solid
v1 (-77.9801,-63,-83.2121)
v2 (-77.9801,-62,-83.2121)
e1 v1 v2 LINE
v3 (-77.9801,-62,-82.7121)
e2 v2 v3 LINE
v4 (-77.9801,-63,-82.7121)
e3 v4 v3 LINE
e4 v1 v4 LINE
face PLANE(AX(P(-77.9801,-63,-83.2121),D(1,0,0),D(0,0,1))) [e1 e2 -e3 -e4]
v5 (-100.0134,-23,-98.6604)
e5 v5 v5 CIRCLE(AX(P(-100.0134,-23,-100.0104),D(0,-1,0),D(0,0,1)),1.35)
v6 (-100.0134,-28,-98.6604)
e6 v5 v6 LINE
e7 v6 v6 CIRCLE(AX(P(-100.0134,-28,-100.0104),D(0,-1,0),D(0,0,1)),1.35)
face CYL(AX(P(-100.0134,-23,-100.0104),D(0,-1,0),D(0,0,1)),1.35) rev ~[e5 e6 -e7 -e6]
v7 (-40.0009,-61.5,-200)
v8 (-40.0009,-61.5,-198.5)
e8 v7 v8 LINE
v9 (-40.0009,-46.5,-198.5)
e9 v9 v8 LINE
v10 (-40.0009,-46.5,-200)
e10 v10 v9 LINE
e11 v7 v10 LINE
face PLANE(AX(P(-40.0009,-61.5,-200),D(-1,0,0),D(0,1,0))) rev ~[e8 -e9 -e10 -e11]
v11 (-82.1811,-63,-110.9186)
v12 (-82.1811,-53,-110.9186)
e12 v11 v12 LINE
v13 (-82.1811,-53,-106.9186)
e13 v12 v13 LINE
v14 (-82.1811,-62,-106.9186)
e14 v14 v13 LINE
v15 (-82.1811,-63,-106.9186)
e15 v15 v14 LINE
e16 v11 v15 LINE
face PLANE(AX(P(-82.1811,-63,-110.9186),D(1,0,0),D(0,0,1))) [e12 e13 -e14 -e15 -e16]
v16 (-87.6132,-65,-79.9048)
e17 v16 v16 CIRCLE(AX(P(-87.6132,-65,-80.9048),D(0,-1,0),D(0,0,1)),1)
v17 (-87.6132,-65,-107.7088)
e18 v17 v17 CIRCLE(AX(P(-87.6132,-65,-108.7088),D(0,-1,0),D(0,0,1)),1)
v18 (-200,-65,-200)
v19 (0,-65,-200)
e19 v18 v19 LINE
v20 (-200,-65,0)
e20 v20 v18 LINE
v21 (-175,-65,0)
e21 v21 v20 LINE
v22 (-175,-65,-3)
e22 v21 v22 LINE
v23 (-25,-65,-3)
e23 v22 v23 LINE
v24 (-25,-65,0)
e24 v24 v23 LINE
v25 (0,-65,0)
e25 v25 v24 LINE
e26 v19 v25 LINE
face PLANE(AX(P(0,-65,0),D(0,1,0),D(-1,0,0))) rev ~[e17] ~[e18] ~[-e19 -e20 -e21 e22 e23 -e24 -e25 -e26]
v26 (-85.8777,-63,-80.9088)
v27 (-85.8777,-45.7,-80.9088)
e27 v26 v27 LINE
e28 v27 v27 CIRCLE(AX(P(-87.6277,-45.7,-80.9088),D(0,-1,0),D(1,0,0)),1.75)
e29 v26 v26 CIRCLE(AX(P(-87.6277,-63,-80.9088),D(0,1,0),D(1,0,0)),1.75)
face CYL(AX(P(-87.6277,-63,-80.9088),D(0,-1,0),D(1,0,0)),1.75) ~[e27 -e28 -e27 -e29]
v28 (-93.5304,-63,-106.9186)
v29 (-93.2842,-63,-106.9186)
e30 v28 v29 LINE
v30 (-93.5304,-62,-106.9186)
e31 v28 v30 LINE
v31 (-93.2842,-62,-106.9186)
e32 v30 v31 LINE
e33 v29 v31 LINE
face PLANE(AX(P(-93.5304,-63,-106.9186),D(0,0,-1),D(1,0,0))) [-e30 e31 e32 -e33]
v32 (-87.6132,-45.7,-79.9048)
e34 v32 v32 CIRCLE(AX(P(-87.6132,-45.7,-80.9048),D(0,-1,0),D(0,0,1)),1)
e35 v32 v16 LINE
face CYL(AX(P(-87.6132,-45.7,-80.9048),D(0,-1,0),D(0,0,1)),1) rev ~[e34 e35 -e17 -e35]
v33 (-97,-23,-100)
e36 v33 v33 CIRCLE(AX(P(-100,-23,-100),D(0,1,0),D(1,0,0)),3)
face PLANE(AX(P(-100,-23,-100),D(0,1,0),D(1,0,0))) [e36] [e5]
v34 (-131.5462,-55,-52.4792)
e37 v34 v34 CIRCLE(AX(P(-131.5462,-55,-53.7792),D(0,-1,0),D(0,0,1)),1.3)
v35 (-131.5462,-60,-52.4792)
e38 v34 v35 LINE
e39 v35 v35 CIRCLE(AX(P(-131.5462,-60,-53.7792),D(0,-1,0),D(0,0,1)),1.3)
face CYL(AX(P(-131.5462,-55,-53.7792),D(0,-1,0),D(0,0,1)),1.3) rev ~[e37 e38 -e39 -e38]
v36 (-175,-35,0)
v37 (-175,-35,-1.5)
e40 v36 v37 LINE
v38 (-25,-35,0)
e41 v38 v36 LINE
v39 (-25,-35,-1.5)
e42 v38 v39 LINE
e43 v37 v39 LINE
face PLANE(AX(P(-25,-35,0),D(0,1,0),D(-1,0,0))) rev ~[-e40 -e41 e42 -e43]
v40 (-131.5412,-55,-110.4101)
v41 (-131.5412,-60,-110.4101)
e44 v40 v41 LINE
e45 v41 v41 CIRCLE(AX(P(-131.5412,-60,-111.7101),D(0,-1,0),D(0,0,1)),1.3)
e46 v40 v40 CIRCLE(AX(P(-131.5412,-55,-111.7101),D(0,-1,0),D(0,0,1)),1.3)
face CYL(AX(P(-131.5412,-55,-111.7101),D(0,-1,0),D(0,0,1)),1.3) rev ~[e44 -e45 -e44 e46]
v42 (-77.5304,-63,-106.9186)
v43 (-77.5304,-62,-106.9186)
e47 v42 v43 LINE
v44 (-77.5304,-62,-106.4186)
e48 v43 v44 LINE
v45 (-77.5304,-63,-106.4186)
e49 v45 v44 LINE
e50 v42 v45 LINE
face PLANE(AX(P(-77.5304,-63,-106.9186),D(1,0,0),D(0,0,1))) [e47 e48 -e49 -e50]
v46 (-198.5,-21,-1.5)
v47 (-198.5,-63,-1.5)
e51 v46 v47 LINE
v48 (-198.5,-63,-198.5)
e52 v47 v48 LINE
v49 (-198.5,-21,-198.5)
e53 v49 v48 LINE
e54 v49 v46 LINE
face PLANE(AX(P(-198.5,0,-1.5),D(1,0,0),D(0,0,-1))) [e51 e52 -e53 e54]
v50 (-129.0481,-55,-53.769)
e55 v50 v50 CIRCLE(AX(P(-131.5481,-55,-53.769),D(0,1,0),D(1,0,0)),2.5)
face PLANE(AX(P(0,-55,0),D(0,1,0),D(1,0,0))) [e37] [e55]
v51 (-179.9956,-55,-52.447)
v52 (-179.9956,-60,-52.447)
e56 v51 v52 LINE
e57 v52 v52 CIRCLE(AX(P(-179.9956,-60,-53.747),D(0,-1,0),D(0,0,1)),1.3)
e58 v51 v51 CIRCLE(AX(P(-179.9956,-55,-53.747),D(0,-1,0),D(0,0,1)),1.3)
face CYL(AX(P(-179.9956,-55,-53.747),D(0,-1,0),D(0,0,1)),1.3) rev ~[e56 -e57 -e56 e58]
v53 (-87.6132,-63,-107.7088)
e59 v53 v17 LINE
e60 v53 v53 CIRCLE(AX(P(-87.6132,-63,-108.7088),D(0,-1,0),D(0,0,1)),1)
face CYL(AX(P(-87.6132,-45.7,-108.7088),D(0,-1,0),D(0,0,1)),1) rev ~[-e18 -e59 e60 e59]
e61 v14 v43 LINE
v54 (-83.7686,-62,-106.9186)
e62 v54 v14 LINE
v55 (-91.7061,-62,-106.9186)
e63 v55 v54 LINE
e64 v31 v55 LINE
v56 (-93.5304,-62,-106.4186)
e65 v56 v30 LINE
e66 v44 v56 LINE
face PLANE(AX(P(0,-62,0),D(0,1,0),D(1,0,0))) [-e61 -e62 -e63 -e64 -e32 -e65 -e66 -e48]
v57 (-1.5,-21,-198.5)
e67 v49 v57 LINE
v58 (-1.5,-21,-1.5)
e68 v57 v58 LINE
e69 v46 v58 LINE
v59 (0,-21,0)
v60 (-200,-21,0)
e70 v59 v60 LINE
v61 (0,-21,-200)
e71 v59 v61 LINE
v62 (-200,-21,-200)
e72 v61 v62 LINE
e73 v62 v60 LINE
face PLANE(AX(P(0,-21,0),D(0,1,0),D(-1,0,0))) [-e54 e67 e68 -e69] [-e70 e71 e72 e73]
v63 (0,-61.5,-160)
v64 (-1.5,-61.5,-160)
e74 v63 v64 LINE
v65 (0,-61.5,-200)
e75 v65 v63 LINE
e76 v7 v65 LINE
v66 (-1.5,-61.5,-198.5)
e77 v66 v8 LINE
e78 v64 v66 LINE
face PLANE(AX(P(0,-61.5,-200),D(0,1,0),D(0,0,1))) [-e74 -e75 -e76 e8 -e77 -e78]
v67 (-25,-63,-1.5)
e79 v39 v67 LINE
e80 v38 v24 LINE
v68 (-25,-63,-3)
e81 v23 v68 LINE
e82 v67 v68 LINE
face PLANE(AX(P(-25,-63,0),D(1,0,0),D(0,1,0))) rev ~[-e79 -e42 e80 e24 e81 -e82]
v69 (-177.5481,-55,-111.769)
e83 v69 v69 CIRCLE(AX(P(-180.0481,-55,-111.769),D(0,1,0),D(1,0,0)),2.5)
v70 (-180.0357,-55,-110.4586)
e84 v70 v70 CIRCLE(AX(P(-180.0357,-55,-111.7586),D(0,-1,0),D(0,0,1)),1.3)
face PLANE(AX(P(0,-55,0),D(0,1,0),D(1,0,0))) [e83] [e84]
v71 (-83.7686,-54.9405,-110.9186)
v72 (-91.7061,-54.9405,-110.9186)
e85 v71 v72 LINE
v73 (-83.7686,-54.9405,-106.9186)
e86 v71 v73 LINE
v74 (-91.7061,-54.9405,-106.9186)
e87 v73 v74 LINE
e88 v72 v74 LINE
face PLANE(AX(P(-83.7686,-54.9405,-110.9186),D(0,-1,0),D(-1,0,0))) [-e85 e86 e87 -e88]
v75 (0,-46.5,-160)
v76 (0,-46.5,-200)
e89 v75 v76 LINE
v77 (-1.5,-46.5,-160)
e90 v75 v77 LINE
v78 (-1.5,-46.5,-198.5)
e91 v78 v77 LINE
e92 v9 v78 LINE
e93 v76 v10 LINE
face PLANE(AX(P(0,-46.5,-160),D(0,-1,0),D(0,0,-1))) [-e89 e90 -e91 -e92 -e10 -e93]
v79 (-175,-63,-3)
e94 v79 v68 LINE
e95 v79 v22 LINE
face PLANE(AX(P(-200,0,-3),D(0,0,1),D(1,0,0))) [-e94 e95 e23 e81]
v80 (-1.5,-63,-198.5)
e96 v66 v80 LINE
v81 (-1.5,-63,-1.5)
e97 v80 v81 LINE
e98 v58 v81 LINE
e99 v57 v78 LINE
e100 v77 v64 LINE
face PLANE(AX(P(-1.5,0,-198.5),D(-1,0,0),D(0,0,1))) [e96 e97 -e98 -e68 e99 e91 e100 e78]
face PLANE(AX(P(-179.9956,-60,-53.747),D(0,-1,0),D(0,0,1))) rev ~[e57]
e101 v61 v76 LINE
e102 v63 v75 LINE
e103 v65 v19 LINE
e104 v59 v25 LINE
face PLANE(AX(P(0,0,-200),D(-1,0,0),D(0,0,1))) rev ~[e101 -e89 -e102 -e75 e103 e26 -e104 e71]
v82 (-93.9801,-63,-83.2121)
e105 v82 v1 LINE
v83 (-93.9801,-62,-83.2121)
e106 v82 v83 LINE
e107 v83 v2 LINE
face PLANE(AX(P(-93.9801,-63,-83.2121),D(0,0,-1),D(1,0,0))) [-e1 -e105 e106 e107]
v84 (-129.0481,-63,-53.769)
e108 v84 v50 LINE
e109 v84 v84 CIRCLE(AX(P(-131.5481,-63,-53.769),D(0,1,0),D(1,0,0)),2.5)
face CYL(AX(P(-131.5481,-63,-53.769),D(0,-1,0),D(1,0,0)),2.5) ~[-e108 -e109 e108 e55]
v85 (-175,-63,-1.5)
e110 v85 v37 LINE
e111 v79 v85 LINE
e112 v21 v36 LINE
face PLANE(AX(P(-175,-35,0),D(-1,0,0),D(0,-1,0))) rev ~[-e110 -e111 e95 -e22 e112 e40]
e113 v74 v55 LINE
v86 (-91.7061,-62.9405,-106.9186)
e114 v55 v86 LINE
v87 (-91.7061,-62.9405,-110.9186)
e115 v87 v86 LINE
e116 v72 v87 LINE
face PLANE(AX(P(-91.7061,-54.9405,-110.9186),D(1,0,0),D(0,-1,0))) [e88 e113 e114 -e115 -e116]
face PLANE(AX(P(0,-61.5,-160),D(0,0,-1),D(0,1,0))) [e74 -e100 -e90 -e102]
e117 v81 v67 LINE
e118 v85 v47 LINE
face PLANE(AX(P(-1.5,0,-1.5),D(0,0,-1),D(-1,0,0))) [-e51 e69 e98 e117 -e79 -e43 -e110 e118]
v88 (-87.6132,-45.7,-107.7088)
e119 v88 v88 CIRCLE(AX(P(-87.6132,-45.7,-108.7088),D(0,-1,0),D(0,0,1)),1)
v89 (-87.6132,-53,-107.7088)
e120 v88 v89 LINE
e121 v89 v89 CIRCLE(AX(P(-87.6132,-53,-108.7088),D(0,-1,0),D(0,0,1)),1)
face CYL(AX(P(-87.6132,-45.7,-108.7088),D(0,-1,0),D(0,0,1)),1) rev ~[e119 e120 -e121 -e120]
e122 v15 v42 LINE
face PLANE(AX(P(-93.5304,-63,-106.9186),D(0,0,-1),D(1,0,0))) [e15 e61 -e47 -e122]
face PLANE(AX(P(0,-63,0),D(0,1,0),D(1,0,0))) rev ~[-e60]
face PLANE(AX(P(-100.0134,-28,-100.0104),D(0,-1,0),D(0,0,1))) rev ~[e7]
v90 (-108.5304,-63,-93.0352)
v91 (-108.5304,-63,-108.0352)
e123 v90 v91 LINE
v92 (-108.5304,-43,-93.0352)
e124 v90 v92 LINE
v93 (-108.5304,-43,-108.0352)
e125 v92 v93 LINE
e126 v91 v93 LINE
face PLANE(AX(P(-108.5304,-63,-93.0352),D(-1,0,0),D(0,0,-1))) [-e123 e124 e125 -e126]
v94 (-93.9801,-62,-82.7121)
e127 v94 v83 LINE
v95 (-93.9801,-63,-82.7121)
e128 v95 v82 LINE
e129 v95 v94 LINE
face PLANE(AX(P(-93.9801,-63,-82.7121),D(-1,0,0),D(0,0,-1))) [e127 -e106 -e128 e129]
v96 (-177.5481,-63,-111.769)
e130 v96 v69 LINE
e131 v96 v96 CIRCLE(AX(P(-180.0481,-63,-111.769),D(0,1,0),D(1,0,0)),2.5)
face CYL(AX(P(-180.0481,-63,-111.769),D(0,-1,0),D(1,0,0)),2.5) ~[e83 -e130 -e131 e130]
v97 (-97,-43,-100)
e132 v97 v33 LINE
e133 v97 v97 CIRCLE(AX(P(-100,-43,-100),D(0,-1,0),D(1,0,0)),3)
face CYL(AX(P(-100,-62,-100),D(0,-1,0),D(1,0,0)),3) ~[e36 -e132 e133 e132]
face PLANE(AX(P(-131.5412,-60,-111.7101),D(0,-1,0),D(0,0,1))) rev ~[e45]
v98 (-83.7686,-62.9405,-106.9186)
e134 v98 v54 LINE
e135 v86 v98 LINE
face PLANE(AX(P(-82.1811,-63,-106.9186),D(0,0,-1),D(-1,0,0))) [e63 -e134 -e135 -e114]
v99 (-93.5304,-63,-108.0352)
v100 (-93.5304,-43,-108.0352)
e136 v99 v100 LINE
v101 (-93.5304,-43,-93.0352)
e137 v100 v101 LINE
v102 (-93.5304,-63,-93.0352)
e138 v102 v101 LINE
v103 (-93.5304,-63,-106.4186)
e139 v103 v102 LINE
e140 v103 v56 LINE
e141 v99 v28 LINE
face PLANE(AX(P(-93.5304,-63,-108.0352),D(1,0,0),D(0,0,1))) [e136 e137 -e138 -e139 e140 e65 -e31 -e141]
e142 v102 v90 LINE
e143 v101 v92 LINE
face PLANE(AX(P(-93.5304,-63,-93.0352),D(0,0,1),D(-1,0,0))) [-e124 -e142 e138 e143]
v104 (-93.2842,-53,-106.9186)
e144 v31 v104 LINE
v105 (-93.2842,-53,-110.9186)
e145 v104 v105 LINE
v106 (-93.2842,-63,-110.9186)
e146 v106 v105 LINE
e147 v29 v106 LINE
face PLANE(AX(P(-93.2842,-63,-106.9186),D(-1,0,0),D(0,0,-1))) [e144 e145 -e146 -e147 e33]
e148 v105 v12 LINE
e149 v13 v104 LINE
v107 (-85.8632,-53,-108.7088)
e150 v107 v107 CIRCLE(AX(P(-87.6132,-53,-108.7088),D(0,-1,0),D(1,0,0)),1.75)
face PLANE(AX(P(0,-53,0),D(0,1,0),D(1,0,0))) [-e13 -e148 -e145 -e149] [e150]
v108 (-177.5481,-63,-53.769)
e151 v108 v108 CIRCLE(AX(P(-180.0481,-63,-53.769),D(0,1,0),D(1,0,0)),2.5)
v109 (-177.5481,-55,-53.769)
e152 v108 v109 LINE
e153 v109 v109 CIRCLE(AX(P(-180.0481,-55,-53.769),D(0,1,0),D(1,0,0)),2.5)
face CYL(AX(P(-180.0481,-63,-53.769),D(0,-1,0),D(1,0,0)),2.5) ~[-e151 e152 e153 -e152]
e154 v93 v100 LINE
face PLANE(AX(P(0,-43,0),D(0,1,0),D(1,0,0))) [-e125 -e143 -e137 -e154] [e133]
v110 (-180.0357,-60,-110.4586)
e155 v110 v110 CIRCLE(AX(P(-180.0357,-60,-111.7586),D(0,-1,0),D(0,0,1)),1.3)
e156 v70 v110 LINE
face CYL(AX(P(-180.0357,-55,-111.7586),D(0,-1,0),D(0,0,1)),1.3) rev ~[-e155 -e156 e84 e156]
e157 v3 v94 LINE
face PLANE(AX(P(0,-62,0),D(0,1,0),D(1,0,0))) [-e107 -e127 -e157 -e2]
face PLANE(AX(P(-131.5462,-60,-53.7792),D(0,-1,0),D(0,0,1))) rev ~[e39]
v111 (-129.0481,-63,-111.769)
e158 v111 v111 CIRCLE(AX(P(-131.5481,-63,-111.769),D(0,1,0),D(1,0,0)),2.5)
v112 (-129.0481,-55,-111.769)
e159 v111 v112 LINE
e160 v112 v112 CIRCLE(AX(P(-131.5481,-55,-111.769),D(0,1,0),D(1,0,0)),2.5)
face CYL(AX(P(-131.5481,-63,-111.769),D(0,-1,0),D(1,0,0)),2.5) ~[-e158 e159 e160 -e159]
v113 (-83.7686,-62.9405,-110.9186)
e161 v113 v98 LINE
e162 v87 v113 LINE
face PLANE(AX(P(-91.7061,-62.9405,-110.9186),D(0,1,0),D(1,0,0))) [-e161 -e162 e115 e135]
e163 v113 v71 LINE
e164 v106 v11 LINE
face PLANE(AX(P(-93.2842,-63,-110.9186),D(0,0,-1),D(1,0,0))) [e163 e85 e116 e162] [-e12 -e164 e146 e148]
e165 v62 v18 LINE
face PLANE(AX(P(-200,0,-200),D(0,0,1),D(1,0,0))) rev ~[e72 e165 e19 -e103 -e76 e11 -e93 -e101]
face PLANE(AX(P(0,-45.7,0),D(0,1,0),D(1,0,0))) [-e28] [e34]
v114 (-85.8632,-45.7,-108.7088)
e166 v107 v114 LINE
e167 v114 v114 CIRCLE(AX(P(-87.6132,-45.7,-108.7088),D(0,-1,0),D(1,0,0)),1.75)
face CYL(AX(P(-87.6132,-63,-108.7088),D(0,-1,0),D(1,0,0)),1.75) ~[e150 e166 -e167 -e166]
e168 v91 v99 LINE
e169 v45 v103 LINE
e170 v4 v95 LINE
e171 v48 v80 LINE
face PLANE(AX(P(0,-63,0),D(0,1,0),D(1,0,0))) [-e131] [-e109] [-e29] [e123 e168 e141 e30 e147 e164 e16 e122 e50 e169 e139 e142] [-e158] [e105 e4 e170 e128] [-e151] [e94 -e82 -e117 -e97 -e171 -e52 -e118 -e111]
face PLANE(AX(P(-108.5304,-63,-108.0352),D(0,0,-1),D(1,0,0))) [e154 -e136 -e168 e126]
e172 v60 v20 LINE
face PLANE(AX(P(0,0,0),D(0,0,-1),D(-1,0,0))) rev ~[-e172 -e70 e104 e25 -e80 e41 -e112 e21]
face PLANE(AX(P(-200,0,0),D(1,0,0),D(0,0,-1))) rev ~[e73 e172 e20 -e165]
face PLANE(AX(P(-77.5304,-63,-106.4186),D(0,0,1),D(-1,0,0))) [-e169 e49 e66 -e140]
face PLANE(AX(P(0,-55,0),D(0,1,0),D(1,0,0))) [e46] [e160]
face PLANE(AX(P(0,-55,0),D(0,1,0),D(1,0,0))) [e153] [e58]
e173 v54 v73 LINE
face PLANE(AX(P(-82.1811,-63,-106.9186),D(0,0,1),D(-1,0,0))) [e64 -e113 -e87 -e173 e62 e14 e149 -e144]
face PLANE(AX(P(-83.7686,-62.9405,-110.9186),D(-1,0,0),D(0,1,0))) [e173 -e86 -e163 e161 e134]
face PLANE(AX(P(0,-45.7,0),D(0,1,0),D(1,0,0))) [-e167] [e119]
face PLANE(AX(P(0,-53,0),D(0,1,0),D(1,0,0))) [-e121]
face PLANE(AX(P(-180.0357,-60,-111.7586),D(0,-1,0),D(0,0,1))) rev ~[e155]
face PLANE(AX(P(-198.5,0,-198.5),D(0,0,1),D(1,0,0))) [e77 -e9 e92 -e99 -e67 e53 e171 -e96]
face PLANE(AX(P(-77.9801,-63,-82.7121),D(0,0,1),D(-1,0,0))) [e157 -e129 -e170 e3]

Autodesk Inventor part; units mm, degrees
ref_plane "YZ Plane" through (0, 0, 0) normal (1, 0, 0) x (0, 1, 0)
ref_plane "XZ Plane" through (0, 0, 0) normal (0, 1, 0) x (-1, 0, 0)
ref_plane "XY Plane" through (0, 0, 0) normal (0, 0, 1) x (1, 0, 0)
sketch "Sketch1" plane through (0, 0, 0) normal (0, 1, 0) x (-1, 0, 0)
  line L0 (0, 0) -> (200, 0)
  line L1 (200, 0) -> (200, -200)
  line L2 (200, -200) -> (0, -200)
  line L3 (0, -200) -> (0, 0)
  line L4 (198, -198) -> (198, -2)
  line L5 (198, -2) -> (2, -2)
  line L6 (2, -2) -> (2, -198)
  line L7 (2, -198) -> (198, -198)
  dimension "d0" = 200
  dimension "d1" = 200
  dimension "d2" = 2
extrude "Extrusion1" add sketch "Sketch1" against normal blind 65 contours L0 L1 L2 L3 | L7 L6 L5 L4
sketch "Sketch2" plane through (0, 0, 0) normal (0, 1, 0) x (1, 0, 0)
  line L0 (-198.5, 198.5) -> (-1.5, 198.5)
  line L1 (-1.5, 198.5) -> (-1.5, 1.5)
  line L2 (-1.5, 1.5) -> (-198.5, 1.5)
  line L3 (-198.5, 1.5) -> (-198.5, 198.5)
  line L4 (-200, 200) -> (-200, 0) projected
  line L5 (0, 200) -> (-200, 200) projected
  line L6 (-109.0225, 121.8048) -> (-59.0225, 121.8048)
  line L7 (-59.0225, 121.8048) -> (-59.0225, 76.8048)
  line L8 (-59.0225, 76.8048) -> (-109.0225, 76.8048)
  line L9 (-109.0225, 76.8048) -> (-109.0225, 121.8048)
  circle A0 centre (-100, 100) radius 4
  point P0 (0, 0)
  dimension "d5" = 197
  dimension "d6" = 197
  dimension "d7" = 1.5
  dimension "d8" = 1.5
  dimension "d37" = 50
  dimension "d38" = 45
  dimension "d39" = 8
extrude "Extrusion2" cut sketch "Sketch2" against normal blind 63 contours L0 L1 L2 L3 | L6 L7 L8 L9 | A0
sketch "Sketch3" plane through (-200, 0, 0) normal (0, 0, 1) x (1, 0, 0)
  line L0 (25, -35) -> (25, -65)
  line L1 (25, -65) -> (175, -65)
  line L2 (175, -65) -> (175, -35)
  line L3 (175, -35) -> (25, -35)
  line L4 (200, 0) -> (200, -65) projected
  line L5 (42.8625, -63) -> (47.625, -63)
  line L6 (198.5, -63) -> (1.5, -63) projected
  line L7 (200, -65) -> (0, -65) projected
  dimension "d11" = 150
  dimension "d12" = 30
  dimension "d13" = 25
  dimension "d14" = 0
  dimension "d36" = 0
extrude "Extrusion3" cut sketch "Sketch3" against normal blind 3
sketch "Sketch4" plane through (0, 0, -200) normal (0, 0, -1) x (-1, 0, 0)
  line L0 (40.0009, -61.5) -> (40.0009, -46.5)
  line L1 (0.0009, -46.5) -> (40.0009, -46.5)
  line L2 (40.0009, -61.5) -> (0.0009, -61.5)
  line L3 (0.0009, -61.5) -> (0.0009, -46.5)
  line L4 (0.0009, -46.5) -> (40.0009, -46.5)
  line L5 (40.0009, -46.5) -> (40.0009, -61.5)
  line L6 (200, -65) -> (0, -65) projected
  point P0 (48.3834, -59.8808)
  point P1 (40.0009, -54)
  point P2 (0.0009, -54)
  dimension "d27" = 40
  dimension "d28" = 15
  dimension "d29" = 3.5
extrude "Extrusion4" cut sketch "Sketch4" against normal blind 3
sketch "Sketch5" plane through (0, 0, 0) normal (1, 0, 0) x (0, 0, -1)
  line L0 (200, -61.5) -> (160, -61.5)
  line L1 (160, -61.5) -> (160, -46.5)
  line L2 (160, -46.5) -> (200, -46.5)
  line L3 (200, -46.5) -> (200, -61.5)
  point P0 (0, 0)
  point P1 (160, -54)
  dimension "d30" = 40
  dimension "d33" = 15
extrude "Extrusion5" cut sketch "Sketch5" against normal blind 3
ref_plane "Work Plane4" through (-100, -62, -100) normal (0, 1, 0) x (1, 0, 0)
sketch "Sketch7" plane through (-100, -62, -100) normal (0, 1, 0) x (1, 0, 0)
  line L0 (31.2315, 20.7219) -> (-8.7685, 20.7219) projected
  line L1 (-8.7685, -19.2781) -> (31.2315, -19.2781) projected
  line L2 (-8.7685, 20.7219) -> (7.9375, 20.7219)
  line L3 (7.9375, 20.7219) -> (7.9375, -19.2781)
  line L4 (7.9375, -19.2781) -> (-8.7685, -19.2781)
  line L5 (-8.7685, -19.2781) -> (-8.7685, 20.7219)
  circle A0 centre (0, 0) radius 3
  point P0 (100, -100)
  dimension "d51" = 6
extrude "Extrusion7" add sketch "Sketch7" along normal blind 39 contours A0
ref_plane "Work Plane3" through (0, -35, 0) normal (0, 1, 0) x (1, 0, 0)
sketch "Sketch9" plane through (-100, -23, -100) normal (0, 1, 0) x (1, 0, 0)
  point P0 (100, -100)
  point P1 (-0.0134, 0.0104)
hole "Hole1" at (-100.0134, -23, -100.0104) direction (0, -1, 0) diameter 2.7 depth 5
sketch "Sketch16" plane through (0, -63, 0) normal (0, 1, 0) x (1, 0, 0)
  line L0 (-183.7981, 135.019) -> (-127.7981, 135.019)
  line L1 (-127.7981, 135.019) -> (-127.7981, 50.019)
  line L2 (-127.7981, 50.019) -> (-183.7981, 50.019)
  line L3 (-183.7981, 50.019) -> (-183.7981, 135.019)
  circle A0 centre (-131.5481, 111.769) radius 2.5
  circle A1 centre (-131.5481, 53.769) radius 2.5
  circle A2 centre (-180.0481, 111.769) radius 2.5
  circle A3 centre (-180.0481, 53.769) radius 2.5
  point P0 (0, 0)
  dimension "d106" = 85
  dimension "d107" = 56
  dimension "d108" = 5
  dimension "d109" = 5
  dimension "d110" = 23.25
  dimension "d111" = 58
  dimension "d112" = 3.75
  dimension "d113" = 5
  dimension "d114" = 5
  dimension "d115" = 58
  dimension "d116" = 23.25
  dimension "d117" = 48.5
  dimension "d118" = 3.75
  dimension "d119" = 3.75
  dimension "d120" = 48.5
extrude "Extrusion14" add sketch "Sketch16" along normal blind 8 contours A0 | A1 | A2 | A3
sketch "Sketch18" plane through (-180.0481, -55, -111.769) normal (0, 1, 0) x (1, 0, 0)
  point P0 (180.0481, -111.769)
  point P1 (0.0125, -0.0104)
hole "Hole4" at (-180.0357, -55, -111.7586) direction (0, -1, 0) diameter 2.6 depth 5
sketch "Sketch19" plane through (-131.5481, -55, -111.769) normal (0, 1, 0) x (1, 0, 0)
  point P0 (131.5481, -111.769)
  point P1 (0.007, -0.059)
hole "Hole5" at (-131.5412, -55, -111.7101) direction (0, -1, 0) diameter 2.6 depth 5
sketch "Sketch20" plane through (-180.0481, -55, -53.769) normal (0, 1, 0) x (1, 0, 0)
  point P0 (180.0481, -53.769)
  point P1 (0.0525, -0.0221)
hole "Hole6" at (-179.9956, -55, -53.747) direction (0, -1, 0) diameter 2.6 depth 5
sketch "Sketch21" plane through (-131.5481, -55, -53.769) normal (0, 1, 0) x (1, 0, 0)
  point P0 (131.5481, -53.769)
  point P1 (0.0019, 0.0101)
hole "Hole7" at (-131.5462, -55, -53.7792) direction (0, -1, 0) diameter 2.6 depth 5
sketch "Sketch23" plane through (-200, 0, 0) normal (0, 0, 1) x (1, 0, 0)
  line L0 (200, 0) -> (200, -65) projected
  line L1 (-0.0001, 0) -> (200, 0)
  line L2 (200, 0) -> (200, -21)
  line L3 (200, -21) -> (-0.0001, -21)
  line L4 (-0.0001, -21) -> (-0.0001, 0)
  dimension "d158" = 21
extrude "Extrusion15" cut sketch "Sketch23" against normal blind 3
sketch "Sketch24" plane through (0, -65, 0) normal (1, 0, 0) x (0, 0, -1)
  line L0 (2.6301, 65) -> (209.4801, 65)
  line L1 (209.4801, 65) -> (209.4801, 44)
  line L2 (209.4801, 44) -> (2.6301, 44)
  line L3 (2.6301, 44) -> (2.6301, 65)
  point P0 (0, 65)
  point P1 (-254.0504, -31.9889)
  dimension "d161" = 21
extrude "Extrusion16" cut sketch "Sketch24" against normal blind 1.5
sketch "Sketch25" plane through (0, -65, -200) normal (0, 0, -1) x (-1, 0, 0)
  line L0 (198.5, 65) -> (1.5, 65) projected
  line L1 (1.5, 65) -> (200, 65)
  line L2 (200, 65) -> (200, 44)
  line L3 (200, 44) -> (1.5, 44)
  line L4 (1.5, 44) -> (1.5, 65)
  point P0 (0, 65)
  dimension "d164" = 21
extrude "Extrusion17" cut sketch "Sketch25" against normal blind 1.5
sketch "Sketch29" plane through (0, -63, 0) normal (0, 1, 0) x (1, 0, 0)
  circle A0 centre (-87.6204, 99.9966) radius 2.4
  circle A1 centre (-100.007, 99.1404) radius 1.5875
  line L0 (-81.6277, 78.5588) -> (-81.6277, 83.3088)
  line L1 (-81.6277, 83.3088) -> (-93.6277, 83.3088)
  line L2 (-93.6277, 83.3088) -> (-93.6277, 78.5588)
  line L3 (-93.6277, 83.3088) -> (-81.6132, 83.3088)
  line L4 (-81.6132, 83.3088) -> (-81.6132, 106.3088)
  line L5 (-81.6132, 106.3088) -> (-93.6277, 106.3088)
  line L6 (-93.6277, 106.3088) -> (-93.6277, 83.3088)
  line L7 (-93.6277, 106.3088) -> (-81.6132, 106.3088)
  line L8 (-81.6132, 106.3088) -> (-81.6132, 111.0588)
  line L9 (-93.6277, 111.0588) -> (-93.6277, 106.3088)
  arc A2 (-87.2339, 79.8817) -> (-88.0214, 79.8817) centre (-87.6277, 80.9088) ccw
  arc A3 (-87.9871, 109.7433) -> (-87.2394, 109.7433) centre (-87.6132, 108.7088) ccw
  line L10 (-88.0214, 79.8817) -> (-88.0068, 79.8817)
  line L11 (-88.0068, 78.5588) -> (-88.0214, 78.5588)
  line L12 (-88.0214, 78.5588) -> (-88.0214, 79.8817)
  line L13 (-88.0214, 79.8817) -> (-88.0068, 79.8817)
  line L14 (-88.0068, 78.5588) -> (-88.0214, 78.5588)
  line L15 (-88.0214, 78.5588) -> (-88.0214, 79.8817)
  line L16 (-148.191, 49.2124) -> (-151.9502, 49.2124)
  line L17 (-87.2339, 79.8817) -> (-87.2339, 78.5588)
  line L18 (-88.0068, 109.7433) -> (-88.0068, 111.0662)
  line L19 (-88.0068, 109.7433) -> (-88.0068, 111.0662)
  line L20 (-87.613, 87.7328) -> (-87.613, 87.7254)
  line L21 (-87.2193, 111.0662) -> (-87.2193, 109.7433)
  line L22 (-87.9871, 109.7433) -> (-88.0068, 109.7433)
  line L23 (-87.9871, 109.7433) -> (-88.0068, 109.7433)
  line L24 (-87.2193, 109.7433) -> (-87.2394, 109.7433)
  line L25 (-87.2339, 111.0662) -> (-87.2193, 111.0662)
  circle A4 centre (-87.6132, 100.0088) radius 2.4
  circle A5 centre (-87.6132, 100.0088) radius 5.7525
  line L26 (-93.6277, 78.5588) -> (-88.0214, 78.5588)
  line L27 (-87.2339, 78.5588) -> (-81.6277, 78.5588)
  line L28 (-81.6132, 111.0588) -> (-87.2193, 111.0588)
  line L29 (-88.0068, 111.0588) -> (-93.6277, 111.0588)
  circle A6 centre (-87.6277, 80.9088) radius 1.75
  circle A7 centre (-87.6132, 108.7088) radius 1.75
  point P0 (0, 0)
  point P1 (-365.9025, -227.0891)
  point P2 (-350.612, -204.1468)
  point P3 (-350.6265, -227.1468)
  point P4 (-145.8741, 48.5842)
  dimension "d178" = 12.3867
  dimension "d186" = 12
  dimension "d187" = 4.75
  dimension "d188" = 23
  dimension "d189" = 4.75
  dimension "d190" = 2.2
  dimension "d191" = 2.2
  dimension "d192" = -27.8
  dimension "d193" = 4.8
  dimension "d196" = 3.5
  dimension "d197" = 3.5
sketch "Sketch30" plane through (0, -63, 0) normal (0, 1, 0) x (1, 0, 0)
  line L0 (-108.5304, 108.0352) -> (-93.5304, 108.0352)
  line L1 (-93.5304, 108.0352) -> (-93.5304, 93.0352)
  line L2 (-93.5304, 93.0352) -> (-108.5304, 93.0352)
  line L3 (-108.5304, 93.0352) -> (-108.5304, 108.0352)
  point P0 (0, 0)
  dimension "d171" = 15
  dimension "d172" = 15
extrude "Extrusion19" add sketch "Sketch30" along normal blind 20
sketch "Sketch31" plane through (-200, -65, -200) normal (-1, 0, 0) x (0, 0, 1)
  point P0 (200, 65)
sketch "Sketch32" plane through (-200, -65, -200) normal (-1, 0, 0) x (0, 0, 1)
  line L0 (1.5, 65) -> (0, 65) projected
  line L1 (0, 65) -> (197, 65)
  line L2 (197, 65) -> (197, 44)
  line L3 (197, 44) -> (0, 44)
  line L4 (0, 44) -> (0, 65)
  point P0 (200, 65)
extrude "Extrusion20" cut sketch "Sketch32" against normal blind 1.5
sketch "Sketch34" plane through (0, -63, 0) normal (0, 1, 0) x (1, 0, 0)
  line L0 (-93.5304, 106.9186) -> (-77.5304, 106.9186)
  line L1 (-77.5304, 106.9186) -> (-77.5304, 106.4186)
  line L2 (-77.5304, 106.4186) -> (-93.5304, 106.4186)
  line L3 (-93.5304, 106.4186) -> (-93.5304, 106.9186)
  line L4 (-93.9801, 83.2121) -> (-77.9801, 83.2121)
  line L5 (-77.9801, 83.2121) -> (-77.9801, 82.7121)
  line L6 (-77.9801, 82.7121) -> (-93.9801, 82.7121)
  line L7 (-93.9801, 82.7121) -> (-93.9801, 83.2121)
  point P0 (0, 0)
  dimension "d179" = 16
  dimension "d180" = 0.5
  dimension "d181" = 16
  dimension "d182" = 0.5
extrude "Extrusion21" add sketch "Sketch34" along normal blind 1
extrude "Extrusion22" add sketch "Sketch29" along normal blind 17.3 contours A6 L12 A2 L17 | L17 A2 L12 A6 | A7 L21 L24 A3 L22 L18 | L18 L22 A3 L24 L21 A7
sketch "Sketch35" plane through (-87.6132, -45.7, -108.7088) normal (0, 1, 0) x (1, 0, 0)
  circle A0 centre (0, 0) radius 1
  circle A1 centre (0, -27.804) radius 1
  point P0 (87.6132, -108.7088)
  dimension "d200" = 2
  dimension "d201" = 2
hole "Hole8" at (-87.6132, -45.7, -108.7088) at (-87.6132, -45.7, -80.9048) direction (0, -1, 0) diameter 2 depth 30
sketch "Sketch36" plane through (0, -63, 0) normal (0, 1, 0) x (1, 0, 0)
  line L0 (-77.5304, 106.9186) -> (-93.5304, 106.9186) projected
  line L1 (-93.2842, 110.9186) -> (-82.1811, 110.9186)
  line L2 (-82.1811, 110.9186) -> (-82.1811, 106.9186)
  line L3 (-82.1811, 106.9186) -> (-93.2842, 106.9186)
  line L4 (-93.2842, 106.9186) -> (-93.2842, 110.9186)
  point P0 (0, 0)
  dimension "d212" = 4
extrude "Extrusion23" add sketch "Sketch36" along normal blind 10
sketch "Sketch37" plane through (-82.1811, -63, -110.9186) normal (0, 0, -1) x (-1, 0, 0)
  line L0 (1.5875, 8.0595) -> (9.525, 8.0595)
  line L1 (9.525, 8.0595) -> (9.525, 0.0595)
  line L2 (9.525, 0.0595) -> (1.5875, 0.0595)
  line L3 (1.5875, 0.0595) -> (1.5875, 8.0595)
  point P0 (-82.1811, 63)
  dimension "d211" = 8
extrude "Extrusion24" cut sketch "Sketch37" against normal blind 4
properties part number "Box"
